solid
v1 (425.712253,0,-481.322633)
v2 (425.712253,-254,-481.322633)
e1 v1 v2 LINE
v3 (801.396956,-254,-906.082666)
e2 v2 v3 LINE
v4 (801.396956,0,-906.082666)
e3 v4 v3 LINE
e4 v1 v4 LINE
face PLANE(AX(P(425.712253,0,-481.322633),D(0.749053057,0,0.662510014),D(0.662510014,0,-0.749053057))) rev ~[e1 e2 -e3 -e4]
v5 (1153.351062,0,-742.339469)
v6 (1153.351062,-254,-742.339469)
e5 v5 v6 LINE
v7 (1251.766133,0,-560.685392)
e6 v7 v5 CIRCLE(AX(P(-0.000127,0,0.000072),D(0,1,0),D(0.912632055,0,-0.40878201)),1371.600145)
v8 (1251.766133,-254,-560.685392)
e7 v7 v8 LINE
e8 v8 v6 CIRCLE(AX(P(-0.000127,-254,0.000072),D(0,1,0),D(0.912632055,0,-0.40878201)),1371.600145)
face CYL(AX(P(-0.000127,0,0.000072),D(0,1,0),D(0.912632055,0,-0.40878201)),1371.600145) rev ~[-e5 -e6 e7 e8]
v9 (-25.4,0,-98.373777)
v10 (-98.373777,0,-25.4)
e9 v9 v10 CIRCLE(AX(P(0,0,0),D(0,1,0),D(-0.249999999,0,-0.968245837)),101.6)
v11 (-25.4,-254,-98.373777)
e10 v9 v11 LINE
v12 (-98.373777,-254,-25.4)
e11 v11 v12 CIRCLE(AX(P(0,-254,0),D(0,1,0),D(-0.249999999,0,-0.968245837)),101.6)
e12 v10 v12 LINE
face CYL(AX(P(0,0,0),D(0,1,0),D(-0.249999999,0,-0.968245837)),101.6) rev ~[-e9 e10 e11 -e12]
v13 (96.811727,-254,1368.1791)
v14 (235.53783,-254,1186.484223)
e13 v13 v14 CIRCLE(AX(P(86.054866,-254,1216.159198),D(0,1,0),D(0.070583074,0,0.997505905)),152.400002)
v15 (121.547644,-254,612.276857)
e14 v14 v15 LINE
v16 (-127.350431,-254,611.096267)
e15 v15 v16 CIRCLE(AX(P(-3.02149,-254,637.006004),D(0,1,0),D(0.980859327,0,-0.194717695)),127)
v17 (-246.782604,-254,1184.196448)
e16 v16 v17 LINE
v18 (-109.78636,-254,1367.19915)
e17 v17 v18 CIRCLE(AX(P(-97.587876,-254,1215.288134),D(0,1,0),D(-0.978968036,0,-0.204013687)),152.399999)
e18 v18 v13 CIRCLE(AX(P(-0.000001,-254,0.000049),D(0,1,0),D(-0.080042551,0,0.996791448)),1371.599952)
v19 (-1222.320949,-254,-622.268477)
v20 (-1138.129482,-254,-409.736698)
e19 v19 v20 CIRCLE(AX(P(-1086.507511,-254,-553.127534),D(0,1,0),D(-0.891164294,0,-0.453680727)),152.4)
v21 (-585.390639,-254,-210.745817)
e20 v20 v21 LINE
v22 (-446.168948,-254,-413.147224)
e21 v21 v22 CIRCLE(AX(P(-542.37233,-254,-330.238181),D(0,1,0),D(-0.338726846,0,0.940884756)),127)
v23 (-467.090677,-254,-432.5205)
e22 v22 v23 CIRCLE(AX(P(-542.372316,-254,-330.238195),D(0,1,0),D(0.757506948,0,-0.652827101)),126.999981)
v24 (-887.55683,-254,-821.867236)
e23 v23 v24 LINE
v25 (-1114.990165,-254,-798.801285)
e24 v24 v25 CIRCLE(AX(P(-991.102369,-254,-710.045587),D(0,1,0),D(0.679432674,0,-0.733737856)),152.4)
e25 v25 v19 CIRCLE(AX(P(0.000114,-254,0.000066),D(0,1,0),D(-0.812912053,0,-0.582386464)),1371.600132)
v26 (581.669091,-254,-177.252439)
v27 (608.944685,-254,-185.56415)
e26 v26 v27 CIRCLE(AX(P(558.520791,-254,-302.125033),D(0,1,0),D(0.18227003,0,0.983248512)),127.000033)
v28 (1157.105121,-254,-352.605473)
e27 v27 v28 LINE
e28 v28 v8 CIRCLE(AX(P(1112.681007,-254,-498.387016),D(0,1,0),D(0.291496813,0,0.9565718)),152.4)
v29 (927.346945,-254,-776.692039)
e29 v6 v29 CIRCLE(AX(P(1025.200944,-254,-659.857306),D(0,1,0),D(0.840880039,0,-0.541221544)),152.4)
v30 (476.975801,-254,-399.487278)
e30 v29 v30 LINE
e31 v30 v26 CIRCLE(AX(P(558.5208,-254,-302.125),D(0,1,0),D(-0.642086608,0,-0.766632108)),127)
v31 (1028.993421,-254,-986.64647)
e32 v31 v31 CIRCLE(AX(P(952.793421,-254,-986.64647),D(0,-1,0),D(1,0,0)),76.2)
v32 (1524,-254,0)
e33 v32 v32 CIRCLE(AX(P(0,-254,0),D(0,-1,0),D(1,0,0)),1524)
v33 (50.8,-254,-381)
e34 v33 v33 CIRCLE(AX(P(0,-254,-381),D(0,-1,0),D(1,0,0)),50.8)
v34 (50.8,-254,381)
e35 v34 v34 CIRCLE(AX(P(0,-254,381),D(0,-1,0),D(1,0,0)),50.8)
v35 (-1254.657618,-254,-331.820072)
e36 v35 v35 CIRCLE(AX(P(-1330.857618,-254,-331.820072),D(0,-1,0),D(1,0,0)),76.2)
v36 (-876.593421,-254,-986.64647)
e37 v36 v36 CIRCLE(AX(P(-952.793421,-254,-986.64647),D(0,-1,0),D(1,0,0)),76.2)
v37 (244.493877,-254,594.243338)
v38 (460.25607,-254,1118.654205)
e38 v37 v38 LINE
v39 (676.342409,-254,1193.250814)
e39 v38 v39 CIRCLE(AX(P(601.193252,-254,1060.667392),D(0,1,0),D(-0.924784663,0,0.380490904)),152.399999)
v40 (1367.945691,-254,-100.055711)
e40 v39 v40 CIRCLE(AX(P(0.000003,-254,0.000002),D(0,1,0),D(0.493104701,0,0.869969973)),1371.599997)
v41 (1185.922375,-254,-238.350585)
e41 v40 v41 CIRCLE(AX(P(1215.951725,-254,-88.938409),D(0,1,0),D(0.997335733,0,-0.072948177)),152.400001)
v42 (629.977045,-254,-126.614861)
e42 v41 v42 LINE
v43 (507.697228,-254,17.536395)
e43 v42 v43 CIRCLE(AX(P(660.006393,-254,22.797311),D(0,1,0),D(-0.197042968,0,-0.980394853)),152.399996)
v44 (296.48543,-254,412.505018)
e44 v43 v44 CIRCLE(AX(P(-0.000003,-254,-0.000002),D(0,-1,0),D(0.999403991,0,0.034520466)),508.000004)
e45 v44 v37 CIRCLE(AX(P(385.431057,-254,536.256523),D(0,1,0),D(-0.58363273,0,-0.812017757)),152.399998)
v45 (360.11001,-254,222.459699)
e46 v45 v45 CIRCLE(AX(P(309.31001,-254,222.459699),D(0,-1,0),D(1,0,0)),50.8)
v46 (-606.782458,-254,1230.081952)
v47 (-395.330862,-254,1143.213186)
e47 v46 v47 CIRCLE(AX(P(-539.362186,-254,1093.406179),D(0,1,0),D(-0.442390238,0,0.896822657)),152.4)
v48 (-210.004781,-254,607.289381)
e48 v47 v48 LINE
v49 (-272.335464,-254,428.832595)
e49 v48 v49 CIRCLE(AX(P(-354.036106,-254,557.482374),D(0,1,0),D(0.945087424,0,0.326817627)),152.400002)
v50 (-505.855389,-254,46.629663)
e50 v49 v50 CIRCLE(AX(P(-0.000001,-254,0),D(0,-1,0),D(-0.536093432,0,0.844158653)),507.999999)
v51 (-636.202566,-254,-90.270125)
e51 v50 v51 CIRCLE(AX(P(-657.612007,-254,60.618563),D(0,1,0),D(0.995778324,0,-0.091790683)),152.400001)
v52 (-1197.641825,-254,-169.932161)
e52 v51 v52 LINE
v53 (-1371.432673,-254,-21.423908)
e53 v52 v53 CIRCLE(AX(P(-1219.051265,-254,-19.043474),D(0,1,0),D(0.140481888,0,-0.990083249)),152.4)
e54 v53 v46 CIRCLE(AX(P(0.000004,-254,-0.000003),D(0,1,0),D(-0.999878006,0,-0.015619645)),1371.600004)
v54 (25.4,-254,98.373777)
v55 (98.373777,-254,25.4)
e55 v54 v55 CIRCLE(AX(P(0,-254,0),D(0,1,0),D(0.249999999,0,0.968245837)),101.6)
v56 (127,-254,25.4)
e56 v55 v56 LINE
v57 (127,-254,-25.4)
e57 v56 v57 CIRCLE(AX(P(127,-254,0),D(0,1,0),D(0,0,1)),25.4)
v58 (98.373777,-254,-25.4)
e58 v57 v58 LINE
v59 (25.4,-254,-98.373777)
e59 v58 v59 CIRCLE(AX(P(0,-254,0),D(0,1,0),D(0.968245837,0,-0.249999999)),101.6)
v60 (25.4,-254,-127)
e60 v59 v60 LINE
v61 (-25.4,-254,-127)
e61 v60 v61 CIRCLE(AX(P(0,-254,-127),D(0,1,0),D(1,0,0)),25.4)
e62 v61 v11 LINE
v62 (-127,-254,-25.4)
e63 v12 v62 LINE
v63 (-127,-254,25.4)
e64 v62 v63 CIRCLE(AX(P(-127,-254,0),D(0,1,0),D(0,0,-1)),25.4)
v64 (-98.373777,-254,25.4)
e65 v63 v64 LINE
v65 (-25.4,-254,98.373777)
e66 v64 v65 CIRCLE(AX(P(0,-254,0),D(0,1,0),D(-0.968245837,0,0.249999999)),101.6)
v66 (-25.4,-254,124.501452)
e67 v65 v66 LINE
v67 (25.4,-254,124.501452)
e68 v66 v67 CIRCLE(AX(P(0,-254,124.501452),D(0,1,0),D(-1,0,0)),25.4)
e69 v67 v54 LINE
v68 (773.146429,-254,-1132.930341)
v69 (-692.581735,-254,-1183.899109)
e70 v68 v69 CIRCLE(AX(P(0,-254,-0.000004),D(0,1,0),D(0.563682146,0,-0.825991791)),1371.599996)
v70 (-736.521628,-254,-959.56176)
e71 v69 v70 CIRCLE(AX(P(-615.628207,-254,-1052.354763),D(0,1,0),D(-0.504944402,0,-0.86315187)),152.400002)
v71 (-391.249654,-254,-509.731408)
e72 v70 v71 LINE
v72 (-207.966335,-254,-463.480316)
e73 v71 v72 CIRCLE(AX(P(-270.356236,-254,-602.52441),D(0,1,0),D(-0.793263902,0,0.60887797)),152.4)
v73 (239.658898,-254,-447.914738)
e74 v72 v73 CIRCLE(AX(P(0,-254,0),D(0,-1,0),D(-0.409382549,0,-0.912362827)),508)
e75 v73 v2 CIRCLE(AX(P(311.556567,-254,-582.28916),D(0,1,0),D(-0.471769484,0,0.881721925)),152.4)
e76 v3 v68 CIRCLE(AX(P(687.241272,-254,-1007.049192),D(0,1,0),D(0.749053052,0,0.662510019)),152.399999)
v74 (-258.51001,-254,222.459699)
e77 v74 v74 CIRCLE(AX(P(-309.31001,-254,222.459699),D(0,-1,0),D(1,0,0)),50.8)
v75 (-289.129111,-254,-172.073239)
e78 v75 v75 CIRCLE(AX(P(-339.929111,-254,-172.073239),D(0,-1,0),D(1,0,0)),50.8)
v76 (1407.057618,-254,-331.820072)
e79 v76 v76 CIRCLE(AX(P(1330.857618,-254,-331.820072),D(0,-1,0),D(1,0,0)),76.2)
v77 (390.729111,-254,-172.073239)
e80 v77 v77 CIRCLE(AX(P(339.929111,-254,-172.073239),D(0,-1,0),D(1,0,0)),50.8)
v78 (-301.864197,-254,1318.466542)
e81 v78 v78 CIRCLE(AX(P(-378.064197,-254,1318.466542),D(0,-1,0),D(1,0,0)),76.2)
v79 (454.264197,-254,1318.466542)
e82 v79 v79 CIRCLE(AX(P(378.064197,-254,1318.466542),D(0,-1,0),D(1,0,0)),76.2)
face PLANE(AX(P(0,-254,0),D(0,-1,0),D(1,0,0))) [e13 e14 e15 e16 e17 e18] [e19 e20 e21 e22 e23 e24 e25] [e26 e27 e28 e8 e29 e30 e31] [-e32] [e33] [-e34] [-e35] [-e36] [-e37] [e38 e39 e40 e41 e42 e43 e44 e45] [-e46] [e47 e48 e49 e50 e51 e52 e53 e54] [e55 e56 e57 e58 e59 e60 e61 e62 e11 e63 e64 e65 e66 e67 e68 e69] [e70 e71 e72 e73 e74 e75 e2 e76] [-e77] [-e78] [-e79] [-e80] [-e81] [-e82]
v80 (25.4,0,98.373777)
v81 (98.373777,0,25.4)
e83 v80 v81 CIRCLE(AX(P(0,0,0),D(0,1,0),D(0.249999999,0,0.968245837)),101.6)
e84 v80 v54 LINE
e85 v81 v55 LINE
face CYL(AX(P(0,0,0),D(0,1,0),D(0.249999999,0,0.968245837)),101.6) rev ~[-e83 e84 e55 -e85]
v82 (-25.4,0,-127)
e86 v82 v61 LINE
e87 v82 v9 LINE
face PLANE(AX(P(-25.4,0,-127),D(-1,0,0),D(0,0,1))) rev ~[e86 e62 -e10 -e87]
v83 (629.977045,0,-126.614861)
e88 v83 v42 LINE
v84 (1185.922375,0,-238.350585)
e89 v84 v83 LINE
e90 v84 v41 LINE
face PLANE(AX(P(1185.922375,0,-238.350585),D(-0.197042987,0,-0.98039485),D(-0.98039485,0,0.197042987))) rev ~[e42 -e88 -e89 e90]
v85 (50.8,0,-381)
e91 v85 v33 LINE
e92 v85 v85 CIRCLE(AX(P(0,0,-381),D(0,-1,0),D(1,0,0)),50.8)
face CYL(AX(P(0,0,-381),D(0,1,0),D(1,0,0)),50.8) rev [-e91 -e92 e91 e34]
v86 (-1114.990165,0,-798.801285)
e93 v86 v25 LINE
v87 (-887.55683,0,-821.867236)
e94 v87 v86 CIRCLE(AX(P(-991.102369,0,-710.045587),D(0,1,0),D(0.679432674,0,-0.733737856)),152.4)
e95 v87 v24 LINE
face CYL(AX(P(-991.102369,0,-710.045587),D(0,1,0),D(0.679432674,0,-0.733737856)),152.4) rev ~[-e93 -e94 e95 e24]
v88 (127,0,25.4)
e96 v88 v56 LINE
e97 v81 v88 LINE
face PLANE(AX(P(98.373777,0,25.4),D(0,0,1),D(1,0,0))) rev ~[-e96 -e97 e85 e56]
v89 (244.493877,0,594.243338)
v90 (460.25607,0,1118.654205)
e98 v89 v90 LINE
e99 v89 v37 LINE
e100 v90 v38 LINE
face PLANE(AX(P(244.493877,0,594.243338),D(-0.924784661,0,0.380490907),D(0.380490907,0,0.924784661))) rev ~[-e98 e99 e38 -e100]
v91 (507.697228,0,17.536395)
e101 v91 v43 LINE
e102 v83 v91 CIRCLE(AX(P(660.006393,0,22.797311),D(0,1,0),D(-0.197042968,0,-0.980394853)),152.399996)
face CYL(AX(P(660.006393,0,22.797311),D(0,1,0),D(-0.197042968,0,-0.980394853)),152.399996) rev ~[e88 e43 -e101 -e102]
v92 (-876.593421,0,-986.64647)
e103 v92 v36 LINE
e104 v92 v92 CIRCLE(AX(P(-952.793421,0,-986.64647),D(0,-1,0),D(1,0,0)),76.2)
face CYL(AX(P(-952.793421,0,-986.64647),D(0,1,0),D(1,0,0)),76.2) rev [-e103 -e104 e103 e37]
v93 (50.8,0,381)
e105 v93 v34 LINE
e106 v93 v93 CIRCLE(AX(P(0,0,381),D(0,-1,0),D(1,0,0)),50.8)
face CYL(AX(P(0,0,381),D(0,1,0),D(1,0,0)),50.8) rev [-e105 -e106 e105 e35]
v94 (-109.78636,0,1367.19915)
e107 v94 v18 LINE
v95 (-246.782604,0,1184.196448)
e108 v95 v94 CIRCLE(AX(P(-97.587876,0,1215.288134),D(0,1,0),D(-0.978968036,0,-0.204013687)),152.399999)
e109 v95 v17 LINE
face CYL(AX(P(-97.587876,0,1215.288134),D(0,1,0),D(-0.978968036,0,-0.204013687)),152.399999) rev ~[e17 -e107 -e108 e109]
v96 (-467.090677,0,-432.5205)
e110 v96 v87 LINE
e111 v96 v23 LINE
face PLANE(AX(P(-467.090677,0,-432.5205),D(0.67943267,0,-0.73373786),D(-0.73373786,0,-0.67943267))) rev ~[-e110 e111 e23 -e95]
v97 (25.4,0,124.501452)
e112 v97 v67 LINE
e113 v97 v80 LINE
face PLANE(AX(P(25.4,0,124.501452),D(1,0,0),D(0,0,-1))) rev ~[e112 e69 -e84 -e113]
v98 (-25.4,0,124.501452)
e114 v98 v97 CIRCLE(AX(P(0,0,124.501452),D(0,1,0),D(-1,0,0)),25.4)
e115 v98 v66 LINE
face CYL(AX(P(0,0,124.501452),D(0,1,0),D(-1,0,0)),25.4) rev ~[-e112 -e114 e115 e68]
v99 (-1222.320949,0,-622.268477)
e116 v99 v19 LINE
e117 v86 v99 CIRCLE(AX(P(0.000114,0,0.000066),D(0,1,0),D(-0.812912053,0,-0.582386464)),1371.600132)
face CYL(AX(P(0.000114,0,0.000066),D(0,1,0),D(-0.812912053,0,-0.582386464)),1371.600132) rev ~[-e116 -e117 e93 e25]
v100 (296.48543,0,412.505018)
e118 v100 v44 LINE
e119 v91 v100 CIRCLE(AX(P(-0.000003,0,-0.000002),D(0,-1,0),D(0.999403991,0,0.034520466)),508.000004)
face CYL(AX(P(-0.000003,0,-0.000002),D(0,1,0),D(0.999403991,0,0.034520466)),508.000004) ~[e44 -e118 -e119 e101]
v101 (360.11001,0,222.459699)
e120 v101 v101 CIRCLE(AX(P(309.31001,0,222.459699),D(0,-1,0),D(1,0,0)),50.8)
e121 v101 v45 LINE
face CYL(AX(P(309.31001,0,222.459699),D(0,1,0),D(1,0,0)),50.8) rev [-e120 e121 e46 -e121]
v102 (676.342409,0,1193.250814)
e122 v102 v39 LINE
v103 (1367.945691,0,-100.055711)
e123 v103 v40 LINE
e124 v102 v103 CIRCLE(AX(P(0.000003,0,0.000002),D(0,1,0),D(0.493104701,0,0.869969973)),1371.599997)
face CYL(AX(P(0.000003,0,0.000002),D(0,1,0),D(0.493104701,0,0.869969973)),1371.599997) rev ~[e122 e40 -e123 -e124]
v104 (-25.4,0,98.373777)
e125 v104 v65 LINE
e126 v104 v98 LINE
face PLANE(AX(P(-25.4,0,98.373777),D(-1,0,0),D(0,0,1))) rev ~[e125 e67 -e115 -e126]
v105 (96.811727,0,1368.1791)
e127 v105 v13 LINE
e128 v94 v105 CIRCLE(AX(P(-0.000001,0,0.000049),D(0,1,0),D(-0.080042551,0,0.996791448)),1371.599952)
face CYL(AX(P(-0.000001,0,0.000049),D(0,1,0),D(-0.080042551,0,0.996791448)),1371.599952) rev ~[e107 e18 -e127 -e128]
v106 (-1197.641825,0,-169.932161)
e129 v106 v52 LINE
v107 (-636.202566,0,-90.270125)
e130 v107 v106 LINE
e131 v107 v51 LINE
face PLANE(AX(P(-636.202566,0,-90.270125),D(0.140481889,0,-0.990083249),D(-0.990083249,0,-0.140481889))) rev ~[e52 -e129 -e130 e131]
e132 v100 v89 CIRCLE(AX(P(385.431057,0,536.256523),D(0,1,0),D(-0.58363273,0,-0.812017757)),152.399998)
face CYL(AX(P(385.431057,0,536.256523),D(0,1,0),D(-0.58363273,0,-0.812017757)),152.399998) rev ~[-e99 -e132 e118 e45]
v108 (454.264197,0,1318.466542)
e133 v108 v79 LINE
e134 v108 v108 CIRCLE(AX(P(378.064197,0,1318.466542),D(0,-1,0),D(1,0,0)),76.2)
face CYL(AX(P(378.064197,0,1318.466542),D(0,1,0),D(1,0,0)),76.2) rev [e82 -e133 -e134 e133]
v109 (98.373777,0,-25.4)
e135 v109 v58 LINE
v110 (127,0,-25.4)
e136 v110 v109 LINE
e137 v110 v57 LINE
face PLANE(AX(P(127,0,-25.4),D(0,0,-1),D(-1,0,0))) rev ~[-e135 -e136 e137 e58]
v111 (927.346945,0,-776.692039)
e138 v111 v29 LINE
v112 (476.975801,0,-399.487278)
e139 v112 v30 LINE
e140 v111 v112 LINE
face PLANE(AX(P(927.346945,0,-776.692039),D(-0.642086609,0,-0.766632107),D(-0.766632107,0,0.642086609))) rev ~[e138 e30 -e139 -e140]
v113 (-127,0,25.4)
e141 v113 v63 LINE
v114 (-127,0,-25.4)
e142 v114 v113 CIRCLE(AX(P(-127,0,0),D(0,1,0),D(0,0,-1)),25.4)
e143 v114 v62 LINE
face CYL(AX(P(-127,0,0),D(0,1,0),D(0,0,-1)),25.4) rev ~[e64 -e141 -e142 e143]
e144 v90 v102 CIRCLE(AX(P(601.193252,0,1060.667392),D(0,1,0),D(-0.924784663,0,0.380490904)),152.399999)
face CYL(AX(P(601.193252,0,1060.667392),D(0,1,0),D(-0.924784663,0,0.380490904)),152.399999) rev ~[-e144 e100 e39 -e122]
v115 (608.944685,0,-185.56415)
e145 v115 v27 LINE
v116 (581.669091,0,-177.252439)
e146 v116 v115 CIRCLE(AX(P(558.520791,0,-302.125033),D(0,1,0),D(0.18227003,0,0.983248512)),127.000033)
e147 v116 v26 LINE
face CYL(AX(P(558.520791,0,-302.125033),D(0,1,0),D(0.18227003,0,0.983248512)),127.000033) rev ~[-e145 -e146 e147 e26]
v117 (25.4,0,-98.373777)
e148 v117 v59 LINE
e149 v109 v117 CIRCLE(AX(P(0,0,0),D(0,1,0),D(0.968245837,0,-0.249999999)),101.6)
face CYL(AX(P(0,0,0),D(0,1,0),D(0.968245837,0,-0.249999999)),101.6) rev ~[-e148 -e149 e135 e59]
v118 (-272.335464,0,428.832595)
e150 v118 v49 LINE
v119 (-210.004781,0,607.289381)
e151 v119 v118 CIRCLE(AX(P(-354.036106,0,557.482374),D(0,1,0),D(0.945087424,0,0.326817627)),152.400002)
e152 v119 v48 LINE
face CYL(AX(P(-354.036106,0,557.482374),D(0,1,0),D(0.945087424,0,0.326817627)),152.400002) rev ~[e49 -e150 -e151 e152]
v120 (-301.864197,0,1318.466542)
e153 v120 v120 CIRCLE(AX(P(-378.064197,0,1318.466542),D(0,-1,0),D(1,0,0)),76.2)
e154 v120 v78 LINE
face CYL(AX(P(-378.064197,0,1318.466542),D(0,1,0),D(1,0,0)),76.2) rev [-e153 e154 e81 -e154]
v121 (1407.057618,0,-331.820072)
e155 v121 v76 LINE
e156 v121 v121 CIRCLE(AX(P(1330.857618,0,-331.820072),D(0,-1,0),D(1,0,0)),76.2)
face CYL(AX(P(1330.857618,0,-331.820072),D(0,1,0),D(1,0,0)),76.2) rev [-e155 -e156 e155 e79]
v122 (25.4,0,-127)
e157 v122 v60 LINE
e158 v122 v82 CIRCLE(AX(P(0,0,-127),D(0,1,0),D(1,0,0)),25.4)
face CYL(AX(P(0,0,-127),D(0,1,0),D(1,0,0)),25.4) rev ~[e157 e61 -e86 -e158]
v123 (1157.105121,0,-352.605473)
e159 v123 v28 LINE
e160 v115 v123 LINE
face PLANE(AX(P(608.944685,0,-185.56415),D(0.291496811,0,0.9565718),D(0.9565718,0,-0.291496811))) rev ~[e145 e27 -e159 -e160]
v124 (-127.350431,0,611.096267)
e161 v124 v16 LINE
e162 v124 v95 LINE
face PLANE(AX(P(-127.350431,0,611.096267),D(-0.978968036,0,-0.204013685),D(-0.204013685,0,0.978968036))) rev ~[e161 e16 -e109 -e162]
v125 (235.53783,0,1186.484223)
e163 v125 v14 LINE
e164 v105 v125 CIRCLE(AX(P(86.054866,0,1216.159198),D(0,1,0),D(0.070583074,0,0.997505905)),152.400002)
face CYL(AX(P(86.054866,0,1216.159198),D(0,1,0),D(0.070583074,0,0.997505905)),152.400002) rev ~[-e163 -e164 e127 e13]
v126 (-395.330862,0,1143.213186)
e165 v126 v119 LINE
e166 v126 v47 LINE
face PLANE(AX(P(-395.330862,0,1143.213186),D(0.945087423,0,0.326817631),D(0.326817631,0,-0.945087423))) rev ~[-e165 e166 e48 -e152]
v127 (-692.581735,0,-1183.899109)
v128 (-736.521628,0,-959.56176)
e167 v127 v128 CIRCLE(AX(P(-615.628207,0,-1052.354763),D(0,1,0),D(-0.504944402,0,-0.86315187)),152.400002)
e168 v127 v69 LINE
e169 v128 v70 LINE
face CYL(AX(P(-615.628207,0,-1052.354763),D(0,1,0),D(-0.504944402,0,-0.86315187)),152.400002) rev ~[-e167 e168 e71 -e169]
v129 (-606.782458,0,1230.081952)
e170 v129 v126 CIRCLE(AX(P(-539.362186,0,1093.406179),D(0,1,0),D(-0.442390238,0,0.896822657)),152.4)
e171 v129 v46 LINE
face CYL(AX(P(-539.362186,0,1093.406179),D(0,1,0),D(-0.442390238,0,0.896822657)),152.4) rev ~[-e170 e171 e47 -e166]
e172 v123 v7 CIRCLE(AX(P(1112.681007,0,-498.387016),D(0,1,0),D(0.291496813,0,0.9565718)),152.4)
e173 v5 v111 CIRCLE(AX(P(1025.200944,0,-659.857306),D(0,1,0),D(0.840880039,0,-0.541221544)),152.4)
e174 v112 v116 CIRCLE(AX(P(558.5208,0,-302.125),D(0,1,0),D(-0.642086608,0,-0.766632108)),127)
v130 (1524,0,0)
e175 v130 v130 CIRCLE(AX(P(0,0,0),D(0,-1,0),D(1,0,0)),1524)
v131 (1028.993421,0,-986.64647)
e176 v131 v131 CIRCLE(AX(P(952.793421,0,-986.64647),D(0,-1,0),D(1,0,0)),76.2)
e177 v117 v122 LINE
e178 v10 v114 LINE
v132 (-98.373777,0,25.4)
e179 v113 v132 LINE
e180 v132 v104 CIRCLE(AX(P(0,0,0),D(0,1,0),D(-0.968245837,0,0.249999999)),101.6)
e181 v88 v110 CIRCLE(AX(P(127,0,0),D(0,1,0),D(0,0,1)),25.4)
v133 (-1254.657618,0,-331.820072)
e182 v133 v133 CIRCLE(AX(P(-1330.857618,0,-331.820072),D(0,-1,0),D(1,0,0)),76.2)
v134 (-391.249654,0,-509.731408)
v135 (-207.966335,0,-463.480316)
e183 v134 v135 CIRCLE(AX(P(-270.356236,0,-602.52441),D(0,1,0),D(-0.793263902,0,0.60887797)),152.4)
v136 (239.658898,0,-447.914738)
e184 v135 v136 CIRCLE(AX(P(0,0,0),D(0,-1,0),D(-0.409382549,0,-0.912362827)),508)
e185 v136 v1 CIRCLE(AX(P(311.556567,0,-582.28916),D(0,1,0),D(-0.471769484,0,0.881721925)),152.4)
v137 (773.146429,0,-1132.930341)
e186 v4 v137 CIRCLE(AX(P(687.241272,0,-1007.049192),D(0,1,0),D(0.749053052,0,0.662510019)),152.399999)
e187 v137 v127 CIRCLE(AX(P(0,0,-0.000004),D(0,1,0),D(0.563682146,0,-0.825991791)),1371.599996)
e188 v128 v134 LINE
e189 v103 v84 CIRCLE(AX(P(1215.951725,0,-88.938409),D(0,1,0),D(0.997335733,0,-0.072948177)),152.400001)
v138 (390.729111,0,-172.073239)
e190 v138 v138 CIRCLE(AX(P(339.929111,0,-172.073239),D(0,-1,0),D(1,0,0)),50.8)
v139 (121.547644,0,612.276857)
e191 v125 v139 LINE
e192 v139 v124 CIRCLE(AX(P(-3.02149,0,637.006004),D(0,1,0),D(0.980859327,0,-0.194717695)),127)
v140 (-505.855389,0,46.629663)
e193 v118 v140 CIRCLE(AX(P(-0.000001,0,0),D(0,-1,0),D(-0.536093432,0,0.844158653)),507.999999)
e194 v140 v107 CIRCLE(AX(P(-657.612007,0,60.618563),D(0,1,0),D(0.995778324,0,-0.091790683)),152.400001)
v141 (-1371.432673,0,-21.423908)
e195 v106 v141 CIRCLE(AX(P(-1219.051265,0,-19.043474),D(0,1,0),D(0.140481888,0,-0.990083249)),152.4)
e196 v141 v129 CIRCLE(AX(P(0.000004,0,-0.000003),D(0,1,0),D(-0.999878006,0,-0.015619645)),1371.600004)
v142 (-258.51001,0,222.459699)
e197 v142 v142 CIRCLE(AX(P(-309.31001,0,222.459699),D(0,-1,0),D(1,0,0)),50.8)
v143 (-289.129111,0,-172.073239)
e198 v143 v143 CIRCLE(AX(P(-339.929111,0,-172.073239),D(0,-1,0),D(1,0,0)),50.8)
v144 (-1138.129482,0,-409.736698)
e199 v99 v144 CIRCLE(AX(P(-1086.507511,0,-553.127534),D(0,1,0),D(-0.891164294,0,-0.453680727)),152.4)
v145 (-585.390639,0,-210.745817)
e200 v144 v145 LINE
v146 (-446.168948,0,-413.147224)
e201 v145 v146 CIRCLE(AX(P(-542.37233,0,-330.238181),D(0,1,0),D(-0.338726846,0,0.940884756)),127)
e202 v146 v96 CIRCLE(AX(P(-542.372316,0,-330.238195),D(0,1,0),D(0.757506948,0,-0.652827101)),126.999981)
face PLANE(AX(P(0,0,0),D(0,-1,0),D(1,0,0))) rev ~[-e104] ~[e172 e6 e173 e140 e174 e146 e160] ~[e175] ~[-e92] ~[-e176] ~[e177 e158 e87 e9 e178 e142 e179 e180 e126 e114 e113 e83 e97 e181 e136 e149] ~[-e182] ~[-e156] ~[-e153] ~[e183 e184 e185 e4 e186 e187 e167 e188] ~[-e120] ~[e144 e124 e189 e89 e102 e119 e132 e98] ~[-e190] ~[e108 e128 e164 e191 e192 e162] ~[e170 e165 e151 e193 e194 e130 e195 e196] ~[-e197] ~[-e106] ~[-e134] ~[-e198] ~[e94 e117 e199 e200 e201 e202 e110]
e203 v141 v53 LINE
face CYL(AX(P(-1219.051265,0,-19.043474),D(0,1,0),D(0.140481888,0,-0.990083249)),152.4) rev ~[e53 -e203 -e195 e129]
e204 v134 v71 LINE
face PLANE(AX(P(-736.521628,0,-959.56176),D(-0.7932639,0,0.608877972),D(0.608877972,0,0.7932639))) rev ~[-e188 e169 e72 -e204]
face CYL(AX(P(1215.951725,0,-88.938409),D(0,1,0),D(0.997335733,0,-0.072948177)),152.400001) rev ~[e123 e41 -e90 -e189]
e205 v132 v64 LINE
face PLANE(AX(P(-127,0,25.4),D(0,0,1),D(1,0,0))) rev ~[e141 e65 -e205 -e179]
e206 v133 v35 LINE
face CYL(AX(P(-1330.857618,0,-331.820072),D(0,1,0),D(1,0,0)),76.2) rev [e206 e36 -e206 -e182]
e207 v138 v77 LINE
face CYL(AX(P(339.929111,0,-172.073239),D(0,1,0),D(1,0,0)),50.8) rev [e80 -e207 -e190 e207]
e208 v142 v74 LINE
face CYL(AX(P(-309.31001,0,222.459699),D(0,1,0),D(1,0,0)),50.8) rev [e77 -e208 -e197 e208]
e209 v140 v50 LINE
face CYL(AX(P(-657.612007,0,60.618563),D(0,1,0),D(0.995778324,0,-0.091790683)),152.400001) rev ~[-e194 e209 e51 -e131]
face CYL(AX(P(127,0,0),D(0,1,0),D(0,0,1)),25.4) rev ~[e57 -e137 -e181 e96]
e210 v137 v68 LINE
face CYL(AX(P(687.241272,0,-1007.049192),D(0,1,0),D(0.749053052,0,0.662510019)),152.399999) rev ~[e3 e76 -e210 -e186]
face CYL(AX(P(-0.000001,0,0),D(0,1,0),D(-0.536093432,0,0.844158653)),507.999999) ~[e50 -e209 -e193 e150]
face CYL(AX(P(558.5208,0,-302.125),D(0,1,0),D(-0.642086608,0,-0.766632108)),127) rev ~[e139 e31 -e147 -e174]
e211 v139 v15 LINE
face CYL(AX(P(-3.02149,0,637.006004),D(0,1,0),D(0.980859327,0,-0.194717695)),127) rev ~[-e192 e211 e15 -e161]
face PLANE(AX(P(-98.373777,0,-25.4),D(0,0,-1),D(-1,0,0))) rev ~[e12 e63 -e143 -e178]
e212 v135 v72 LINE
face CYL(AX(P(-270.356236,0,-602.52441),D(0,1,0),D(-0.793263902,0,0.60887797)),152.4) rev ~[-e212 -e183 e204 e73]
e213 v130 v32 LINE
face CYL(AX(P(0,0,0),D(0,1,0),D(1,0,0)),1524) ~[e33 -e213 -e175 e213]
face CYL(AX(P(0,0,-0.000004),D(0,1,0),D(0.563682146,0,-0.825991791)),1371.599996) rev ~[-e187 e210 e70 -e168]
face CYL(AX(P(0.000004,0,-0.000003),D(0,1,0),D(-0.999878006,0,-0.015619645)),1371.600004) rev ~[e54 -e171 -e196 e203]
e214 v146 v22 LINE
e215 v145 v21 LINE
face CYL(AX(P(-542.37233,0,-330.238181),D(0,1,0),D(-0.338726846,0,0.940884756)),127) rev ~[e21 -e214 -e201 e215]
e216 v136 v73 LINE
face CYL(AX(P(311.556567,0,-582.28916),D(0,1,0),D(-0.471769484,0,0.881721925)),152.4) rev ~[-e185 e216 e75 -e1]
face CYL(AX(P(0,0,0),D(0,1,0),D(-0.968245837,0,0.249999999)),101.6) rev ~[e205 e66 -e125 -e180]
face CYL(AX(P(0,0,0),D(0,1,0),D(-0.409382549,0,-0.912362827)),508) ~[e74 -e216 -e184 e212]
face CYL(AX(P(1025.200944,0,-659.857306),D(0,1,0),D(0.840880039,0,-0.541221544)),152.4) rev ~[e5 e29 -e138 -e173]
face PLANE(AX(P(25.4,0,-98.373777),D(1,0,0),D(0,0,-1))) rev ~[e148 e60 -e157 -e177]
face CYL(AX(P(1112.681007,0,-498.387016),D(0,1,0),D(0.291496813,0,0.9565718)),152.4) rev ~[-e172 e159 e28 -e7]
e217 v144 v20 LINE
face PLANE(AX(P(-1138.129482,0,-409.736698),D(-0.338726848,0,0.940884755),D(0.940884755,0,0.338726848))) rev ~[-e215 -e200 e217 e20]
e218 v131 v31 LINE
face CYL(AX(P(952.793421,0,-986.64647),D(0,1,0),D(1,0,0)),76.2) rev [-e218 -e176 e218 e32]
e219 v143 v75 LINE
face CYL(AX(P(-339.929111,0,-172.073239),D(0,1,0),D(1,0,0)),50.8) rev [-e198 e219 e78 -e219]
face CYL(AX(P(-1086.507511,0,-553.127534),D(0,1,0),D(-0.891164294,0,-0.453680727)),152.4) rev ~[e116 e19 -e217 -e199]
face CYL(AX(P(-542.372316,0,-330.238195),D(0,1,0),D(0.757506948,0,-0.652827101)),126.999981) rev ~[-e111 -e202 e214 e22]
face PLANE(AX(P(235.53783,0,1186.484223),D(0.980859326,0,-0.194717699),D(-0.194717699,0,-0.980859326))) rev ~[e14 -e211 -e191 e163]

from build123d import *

# Parameters (mm, degrees)
F0_R     = 1524
F0_R_2   = 76.2
F0_R_3   = 444.5
F0_R_4   = 50.8
F1_DEPTH = 254


with BuildPart() as f1:
    # F0 (on Front) → F1 (new body)
    with BuildSketch(Plane.XZ):
        Circle(F0_R)
        with Locations((-952.793421, -986.64647)):
            Circle(F0_R_2, mode=Mode.SUBTRACT)
        with BuildLine():
            ThreePointArc((-1114.990165, -798.801285), (-1171.984116, -712.558623), (-1222.320949, -622.268477))
            ThreePointArc((-1222.320949, -622.268477), (-1228.195363, -496.99989), (-1138.129482, -409.736698))
            Line((-1138.129482, -409.736698), (-585.390639, -210.745817))
            ThreePointArc((-585.390639, -210.745817), (-437.736077, -258.264195), (-446.168948, -413.147224))
            ThreePointArc((-446.168948, -413.147224), (-456.08438, -423.422889), (-467.090677, -432.5205))
            Line((-467.090677, -432.5205), (-887.55683, -821.867236))
            ThreePointArc((-887.55683, -821.867236), (-1006.47967, -861.66781), (-1114.990165, -798.801285))
        make_face(mode=Mode.SUBTRACT)
        with Locations((-1330.857618, -331.820072)):
            Circle(F0_R_2, mode=Mode.SUBTRACT)
        with BuildLine():
            ThreePointArc((239.658898, -447.914738), (338.490874, -432.288149), (425.712253, -481.322633))
            Line((425.712253, -481.322633), (801.396956, -906.082666))
            ThreePointArc((801.396956, -906.082666), (838.473054, -1025.882877), (773.146429, -1132.930341))
            ThreePointArc((773.146429, -1132.930341), (47.666774, -1370.771476), (-692.581735, -1183.899109))
            ThreePointArc((-692.581735, -1183.899109), (-765.186441, -1081.648025), (-736.521628, -959.56176))
            Line((-736.521628, -959.56176), (-391.249654, -509.731408))
            ThreePointArc((-391.249654, -509.731408), (-307.645058, -454.756675), (-207.966335, -463.480316))
            ThreePointArc((-207.966335, -463.480316), (17.654361, -507.693139), (239.658898, -447.914738))
        make_face(mode=Mode.SUBTRACT)
        with Locations((952.793421, -986.64647)):
            Circle(F0_R_2, mode=Mode.SUBTRACT)
        with BuildLine():
            ThreePointArc((476.975801, -399.487278), (443.63118, -248.001298), (581.669091, -177.252439))
            ThreePointArc((581.669091, -177.252439), (595.540895, -180.640382), (608.944685, -185.56415))
            Line((608.944685, -185.56415), (1157.105121, -352.605473))
            ThreePointArc((1157.105121, -352.605473), (1251.400953, -435.279674), (1251.766133, -560.685392))
            ThreePointArc((1251.766133, -560.685392), (1205.983719, -653.368065), (1153.351062, -742.339469))
            ThreePointArc((1153.351062, -742.339469), (1048.102658, -810.526717), (927.346945, -776.692039))
            Line((927.346945, -776.692039), (476.975801, -399.487278))
        make_face(mode=Mode.SUBTRACT)
        with Locations((1330.857618, -331.820072)):
            Circle(F0_R_2, mode=Mode.SUBTRACT)
        with BuildLine():
            Line((-395.330862, 1143.213186), (-210.004781, 607.289381))
            ThreePointArc((-210.004781, 607.289381), (-210.159644, 507.22977), (-272.335464, 428.832595))
            ThreePointArc((-272.335464, 428.832595), (-433.491662, 264.856525), (-505.855389, 46.629663))
            ThreePointArc((-505.855389, 46.629663), (-547.239868, -44.470691), (-636.202566, -90.270125))
            Line((-636.202566, -90.270125), (-1197.641825, -169.932161))
            ThreePointArc((-1197.641825, -169.932161), (-1318.056767, -134.904039), (-1371.432673, -21.423908))
            ThreePointArc((-1371.432673, -21.423908), (-1170.427488, 715.112616), (-606.782458, 1230.081952))
            ThreePointArc((-606.782458, 1230.081952), (-481.449675, 1234.37391), (-395.330862, 1143.213186))
        make_face(mode=Mode.SUBTRACT)
        with BuildLine():
            ThreePointArc((121.547644, 612.276857), (-2.419102, 510.007433), (-127.350431, 611.096267))
            Line((-127.350431, 611.096267), (-246.782604, 1184.196448))
            ThreePointArc((-246.782604, 1184.196448), (-219.589677, 1306.618963), (-109.78636, 1367.19915))
            ThreePointArc((-109.78636, 1367.19915), (-6.505794, 1371.584571), (96.811727, 1368.1791))
            ThreePointArc((96.811727, 1368.1791), (207.184786, 1308.643268), (235.53783, 1186.484223))
            Line((235.53783, 1186.484223), (121.547644, 612.276857))
        make_face(mode=Mode.SUBTRACT)
        with Locations((-378.064197, 1318.466542)):
            Circle(F0_R_2, mode=Mode.SUBTRACT)
        Circle(F0_R_3, mode=Mode.SUBTRACT)
        with BuildLine():
            ThreePointArc((296.48543, 412.505018), (238.908941, 494.339593), (244.493877, 594.243338))
            Line((244.493877, 594.243338), (460.25607, 1118.654205))
            ThreePointArc((460.25607, 1118.654205), (551.462179, 1204.72495), (676.342409, 1193.250814))
            ThreePointArc((676.342409, 1193.250814), (1209.520112, 646.798005), (1367.945691, -100.055711))
            ThreePointArc((1367.945691, -100.055711), (1308.148308, -210.287287), (1185.922375, -238.350585))
            Line((1185.922375, -238.350585), (629.977045, -126.614861))
            ThreePointArc((629.977045, -126.614861), (543.787937, -75.787827), (507.697228, 17.536395))
            ThreePointArc((507.697228, 17.536395), (447.970412, 239.554816), (296.48543, 412.505018))
        make_face(mode=Mode.SUBTRACT)
        with Locations((378.064197, 1318.466542)):
            Circle(F0_R_2, mode=Mode.SUBTRACT)
        Circle(F0_R_3)
        with Locations((-339.929111, -172.073239)):
            Circle(F0_R_4, mode=Mode.SUBTRACT)
        with Locations((0, -381)):
            Circle(F0_R_4, mode=Mode.SUBTRACT)
        with BuildLine():
            ThreePointArc((-25.4, -98.373777), (-71.842049, -71.842049), (-98.373777, -25.4))
            Line((-98.373777, -25.4), (-127, -25.4))
            ThreePointArc((-127, -25.4), (-152.4, 0), (-127, 25.4))
            Line((-127, 25.4), (-98.373777, 25.4))
            ThreePointArc((-98.373777, 25.4), (-71.842049, 71.842049), (-25.4, 98.373777))
            Line((-25.4, 98.373777), (-25.4, 124.501452))
            ThreePointArc((-25.4, 124.501452), (0, 149.901452), (25.4, 124.501452))
            Line((25.4, 124.501452), (25.4, 98.373777))
            ThreePointArc((25.4, 98.373777), (71.842049, 71.842049), (98.373777, 25.4))
            Line((98.373777, 25.4), (127, 25.4))
            ThreePointArc((127, 25.4), (152.4, 0), (127, -25.4))
            Line((127, -25.4), (98.373777, -25.4))
            ThreePointArc((98.373777, -25.4), (71.842049, -71.842049), (25.4, -98.373777))
            Line((25.4, -98.373777), (25.4, -127))
            ThreePointArc((25.4, -127), (0, -152.4), (-25.4, -127))
            Line((-25.4, -127), (-25.4, -98.373777))
        make_face(mode=Mode.SUBTRACT)
        with Locations((339.929111, -172.073239)):
            Circle(F0_R_4, mode=Mode.SUBTRACT)
        with Locations((-309.31001, 222.459699)):
            Circle(F0_R_4, mode=Mode.SUBTRACT)
        with Locations((309.31001, 222.459699)):
            Circle(F0_R_4, mode=Mode.SUBTRACT)
        with Locations((0, 381)):
            Circle(F0_R_4, mode=Mode.SUBTRACT)
    extrude(amount=F1_DEPTH)


solid = f1.part
